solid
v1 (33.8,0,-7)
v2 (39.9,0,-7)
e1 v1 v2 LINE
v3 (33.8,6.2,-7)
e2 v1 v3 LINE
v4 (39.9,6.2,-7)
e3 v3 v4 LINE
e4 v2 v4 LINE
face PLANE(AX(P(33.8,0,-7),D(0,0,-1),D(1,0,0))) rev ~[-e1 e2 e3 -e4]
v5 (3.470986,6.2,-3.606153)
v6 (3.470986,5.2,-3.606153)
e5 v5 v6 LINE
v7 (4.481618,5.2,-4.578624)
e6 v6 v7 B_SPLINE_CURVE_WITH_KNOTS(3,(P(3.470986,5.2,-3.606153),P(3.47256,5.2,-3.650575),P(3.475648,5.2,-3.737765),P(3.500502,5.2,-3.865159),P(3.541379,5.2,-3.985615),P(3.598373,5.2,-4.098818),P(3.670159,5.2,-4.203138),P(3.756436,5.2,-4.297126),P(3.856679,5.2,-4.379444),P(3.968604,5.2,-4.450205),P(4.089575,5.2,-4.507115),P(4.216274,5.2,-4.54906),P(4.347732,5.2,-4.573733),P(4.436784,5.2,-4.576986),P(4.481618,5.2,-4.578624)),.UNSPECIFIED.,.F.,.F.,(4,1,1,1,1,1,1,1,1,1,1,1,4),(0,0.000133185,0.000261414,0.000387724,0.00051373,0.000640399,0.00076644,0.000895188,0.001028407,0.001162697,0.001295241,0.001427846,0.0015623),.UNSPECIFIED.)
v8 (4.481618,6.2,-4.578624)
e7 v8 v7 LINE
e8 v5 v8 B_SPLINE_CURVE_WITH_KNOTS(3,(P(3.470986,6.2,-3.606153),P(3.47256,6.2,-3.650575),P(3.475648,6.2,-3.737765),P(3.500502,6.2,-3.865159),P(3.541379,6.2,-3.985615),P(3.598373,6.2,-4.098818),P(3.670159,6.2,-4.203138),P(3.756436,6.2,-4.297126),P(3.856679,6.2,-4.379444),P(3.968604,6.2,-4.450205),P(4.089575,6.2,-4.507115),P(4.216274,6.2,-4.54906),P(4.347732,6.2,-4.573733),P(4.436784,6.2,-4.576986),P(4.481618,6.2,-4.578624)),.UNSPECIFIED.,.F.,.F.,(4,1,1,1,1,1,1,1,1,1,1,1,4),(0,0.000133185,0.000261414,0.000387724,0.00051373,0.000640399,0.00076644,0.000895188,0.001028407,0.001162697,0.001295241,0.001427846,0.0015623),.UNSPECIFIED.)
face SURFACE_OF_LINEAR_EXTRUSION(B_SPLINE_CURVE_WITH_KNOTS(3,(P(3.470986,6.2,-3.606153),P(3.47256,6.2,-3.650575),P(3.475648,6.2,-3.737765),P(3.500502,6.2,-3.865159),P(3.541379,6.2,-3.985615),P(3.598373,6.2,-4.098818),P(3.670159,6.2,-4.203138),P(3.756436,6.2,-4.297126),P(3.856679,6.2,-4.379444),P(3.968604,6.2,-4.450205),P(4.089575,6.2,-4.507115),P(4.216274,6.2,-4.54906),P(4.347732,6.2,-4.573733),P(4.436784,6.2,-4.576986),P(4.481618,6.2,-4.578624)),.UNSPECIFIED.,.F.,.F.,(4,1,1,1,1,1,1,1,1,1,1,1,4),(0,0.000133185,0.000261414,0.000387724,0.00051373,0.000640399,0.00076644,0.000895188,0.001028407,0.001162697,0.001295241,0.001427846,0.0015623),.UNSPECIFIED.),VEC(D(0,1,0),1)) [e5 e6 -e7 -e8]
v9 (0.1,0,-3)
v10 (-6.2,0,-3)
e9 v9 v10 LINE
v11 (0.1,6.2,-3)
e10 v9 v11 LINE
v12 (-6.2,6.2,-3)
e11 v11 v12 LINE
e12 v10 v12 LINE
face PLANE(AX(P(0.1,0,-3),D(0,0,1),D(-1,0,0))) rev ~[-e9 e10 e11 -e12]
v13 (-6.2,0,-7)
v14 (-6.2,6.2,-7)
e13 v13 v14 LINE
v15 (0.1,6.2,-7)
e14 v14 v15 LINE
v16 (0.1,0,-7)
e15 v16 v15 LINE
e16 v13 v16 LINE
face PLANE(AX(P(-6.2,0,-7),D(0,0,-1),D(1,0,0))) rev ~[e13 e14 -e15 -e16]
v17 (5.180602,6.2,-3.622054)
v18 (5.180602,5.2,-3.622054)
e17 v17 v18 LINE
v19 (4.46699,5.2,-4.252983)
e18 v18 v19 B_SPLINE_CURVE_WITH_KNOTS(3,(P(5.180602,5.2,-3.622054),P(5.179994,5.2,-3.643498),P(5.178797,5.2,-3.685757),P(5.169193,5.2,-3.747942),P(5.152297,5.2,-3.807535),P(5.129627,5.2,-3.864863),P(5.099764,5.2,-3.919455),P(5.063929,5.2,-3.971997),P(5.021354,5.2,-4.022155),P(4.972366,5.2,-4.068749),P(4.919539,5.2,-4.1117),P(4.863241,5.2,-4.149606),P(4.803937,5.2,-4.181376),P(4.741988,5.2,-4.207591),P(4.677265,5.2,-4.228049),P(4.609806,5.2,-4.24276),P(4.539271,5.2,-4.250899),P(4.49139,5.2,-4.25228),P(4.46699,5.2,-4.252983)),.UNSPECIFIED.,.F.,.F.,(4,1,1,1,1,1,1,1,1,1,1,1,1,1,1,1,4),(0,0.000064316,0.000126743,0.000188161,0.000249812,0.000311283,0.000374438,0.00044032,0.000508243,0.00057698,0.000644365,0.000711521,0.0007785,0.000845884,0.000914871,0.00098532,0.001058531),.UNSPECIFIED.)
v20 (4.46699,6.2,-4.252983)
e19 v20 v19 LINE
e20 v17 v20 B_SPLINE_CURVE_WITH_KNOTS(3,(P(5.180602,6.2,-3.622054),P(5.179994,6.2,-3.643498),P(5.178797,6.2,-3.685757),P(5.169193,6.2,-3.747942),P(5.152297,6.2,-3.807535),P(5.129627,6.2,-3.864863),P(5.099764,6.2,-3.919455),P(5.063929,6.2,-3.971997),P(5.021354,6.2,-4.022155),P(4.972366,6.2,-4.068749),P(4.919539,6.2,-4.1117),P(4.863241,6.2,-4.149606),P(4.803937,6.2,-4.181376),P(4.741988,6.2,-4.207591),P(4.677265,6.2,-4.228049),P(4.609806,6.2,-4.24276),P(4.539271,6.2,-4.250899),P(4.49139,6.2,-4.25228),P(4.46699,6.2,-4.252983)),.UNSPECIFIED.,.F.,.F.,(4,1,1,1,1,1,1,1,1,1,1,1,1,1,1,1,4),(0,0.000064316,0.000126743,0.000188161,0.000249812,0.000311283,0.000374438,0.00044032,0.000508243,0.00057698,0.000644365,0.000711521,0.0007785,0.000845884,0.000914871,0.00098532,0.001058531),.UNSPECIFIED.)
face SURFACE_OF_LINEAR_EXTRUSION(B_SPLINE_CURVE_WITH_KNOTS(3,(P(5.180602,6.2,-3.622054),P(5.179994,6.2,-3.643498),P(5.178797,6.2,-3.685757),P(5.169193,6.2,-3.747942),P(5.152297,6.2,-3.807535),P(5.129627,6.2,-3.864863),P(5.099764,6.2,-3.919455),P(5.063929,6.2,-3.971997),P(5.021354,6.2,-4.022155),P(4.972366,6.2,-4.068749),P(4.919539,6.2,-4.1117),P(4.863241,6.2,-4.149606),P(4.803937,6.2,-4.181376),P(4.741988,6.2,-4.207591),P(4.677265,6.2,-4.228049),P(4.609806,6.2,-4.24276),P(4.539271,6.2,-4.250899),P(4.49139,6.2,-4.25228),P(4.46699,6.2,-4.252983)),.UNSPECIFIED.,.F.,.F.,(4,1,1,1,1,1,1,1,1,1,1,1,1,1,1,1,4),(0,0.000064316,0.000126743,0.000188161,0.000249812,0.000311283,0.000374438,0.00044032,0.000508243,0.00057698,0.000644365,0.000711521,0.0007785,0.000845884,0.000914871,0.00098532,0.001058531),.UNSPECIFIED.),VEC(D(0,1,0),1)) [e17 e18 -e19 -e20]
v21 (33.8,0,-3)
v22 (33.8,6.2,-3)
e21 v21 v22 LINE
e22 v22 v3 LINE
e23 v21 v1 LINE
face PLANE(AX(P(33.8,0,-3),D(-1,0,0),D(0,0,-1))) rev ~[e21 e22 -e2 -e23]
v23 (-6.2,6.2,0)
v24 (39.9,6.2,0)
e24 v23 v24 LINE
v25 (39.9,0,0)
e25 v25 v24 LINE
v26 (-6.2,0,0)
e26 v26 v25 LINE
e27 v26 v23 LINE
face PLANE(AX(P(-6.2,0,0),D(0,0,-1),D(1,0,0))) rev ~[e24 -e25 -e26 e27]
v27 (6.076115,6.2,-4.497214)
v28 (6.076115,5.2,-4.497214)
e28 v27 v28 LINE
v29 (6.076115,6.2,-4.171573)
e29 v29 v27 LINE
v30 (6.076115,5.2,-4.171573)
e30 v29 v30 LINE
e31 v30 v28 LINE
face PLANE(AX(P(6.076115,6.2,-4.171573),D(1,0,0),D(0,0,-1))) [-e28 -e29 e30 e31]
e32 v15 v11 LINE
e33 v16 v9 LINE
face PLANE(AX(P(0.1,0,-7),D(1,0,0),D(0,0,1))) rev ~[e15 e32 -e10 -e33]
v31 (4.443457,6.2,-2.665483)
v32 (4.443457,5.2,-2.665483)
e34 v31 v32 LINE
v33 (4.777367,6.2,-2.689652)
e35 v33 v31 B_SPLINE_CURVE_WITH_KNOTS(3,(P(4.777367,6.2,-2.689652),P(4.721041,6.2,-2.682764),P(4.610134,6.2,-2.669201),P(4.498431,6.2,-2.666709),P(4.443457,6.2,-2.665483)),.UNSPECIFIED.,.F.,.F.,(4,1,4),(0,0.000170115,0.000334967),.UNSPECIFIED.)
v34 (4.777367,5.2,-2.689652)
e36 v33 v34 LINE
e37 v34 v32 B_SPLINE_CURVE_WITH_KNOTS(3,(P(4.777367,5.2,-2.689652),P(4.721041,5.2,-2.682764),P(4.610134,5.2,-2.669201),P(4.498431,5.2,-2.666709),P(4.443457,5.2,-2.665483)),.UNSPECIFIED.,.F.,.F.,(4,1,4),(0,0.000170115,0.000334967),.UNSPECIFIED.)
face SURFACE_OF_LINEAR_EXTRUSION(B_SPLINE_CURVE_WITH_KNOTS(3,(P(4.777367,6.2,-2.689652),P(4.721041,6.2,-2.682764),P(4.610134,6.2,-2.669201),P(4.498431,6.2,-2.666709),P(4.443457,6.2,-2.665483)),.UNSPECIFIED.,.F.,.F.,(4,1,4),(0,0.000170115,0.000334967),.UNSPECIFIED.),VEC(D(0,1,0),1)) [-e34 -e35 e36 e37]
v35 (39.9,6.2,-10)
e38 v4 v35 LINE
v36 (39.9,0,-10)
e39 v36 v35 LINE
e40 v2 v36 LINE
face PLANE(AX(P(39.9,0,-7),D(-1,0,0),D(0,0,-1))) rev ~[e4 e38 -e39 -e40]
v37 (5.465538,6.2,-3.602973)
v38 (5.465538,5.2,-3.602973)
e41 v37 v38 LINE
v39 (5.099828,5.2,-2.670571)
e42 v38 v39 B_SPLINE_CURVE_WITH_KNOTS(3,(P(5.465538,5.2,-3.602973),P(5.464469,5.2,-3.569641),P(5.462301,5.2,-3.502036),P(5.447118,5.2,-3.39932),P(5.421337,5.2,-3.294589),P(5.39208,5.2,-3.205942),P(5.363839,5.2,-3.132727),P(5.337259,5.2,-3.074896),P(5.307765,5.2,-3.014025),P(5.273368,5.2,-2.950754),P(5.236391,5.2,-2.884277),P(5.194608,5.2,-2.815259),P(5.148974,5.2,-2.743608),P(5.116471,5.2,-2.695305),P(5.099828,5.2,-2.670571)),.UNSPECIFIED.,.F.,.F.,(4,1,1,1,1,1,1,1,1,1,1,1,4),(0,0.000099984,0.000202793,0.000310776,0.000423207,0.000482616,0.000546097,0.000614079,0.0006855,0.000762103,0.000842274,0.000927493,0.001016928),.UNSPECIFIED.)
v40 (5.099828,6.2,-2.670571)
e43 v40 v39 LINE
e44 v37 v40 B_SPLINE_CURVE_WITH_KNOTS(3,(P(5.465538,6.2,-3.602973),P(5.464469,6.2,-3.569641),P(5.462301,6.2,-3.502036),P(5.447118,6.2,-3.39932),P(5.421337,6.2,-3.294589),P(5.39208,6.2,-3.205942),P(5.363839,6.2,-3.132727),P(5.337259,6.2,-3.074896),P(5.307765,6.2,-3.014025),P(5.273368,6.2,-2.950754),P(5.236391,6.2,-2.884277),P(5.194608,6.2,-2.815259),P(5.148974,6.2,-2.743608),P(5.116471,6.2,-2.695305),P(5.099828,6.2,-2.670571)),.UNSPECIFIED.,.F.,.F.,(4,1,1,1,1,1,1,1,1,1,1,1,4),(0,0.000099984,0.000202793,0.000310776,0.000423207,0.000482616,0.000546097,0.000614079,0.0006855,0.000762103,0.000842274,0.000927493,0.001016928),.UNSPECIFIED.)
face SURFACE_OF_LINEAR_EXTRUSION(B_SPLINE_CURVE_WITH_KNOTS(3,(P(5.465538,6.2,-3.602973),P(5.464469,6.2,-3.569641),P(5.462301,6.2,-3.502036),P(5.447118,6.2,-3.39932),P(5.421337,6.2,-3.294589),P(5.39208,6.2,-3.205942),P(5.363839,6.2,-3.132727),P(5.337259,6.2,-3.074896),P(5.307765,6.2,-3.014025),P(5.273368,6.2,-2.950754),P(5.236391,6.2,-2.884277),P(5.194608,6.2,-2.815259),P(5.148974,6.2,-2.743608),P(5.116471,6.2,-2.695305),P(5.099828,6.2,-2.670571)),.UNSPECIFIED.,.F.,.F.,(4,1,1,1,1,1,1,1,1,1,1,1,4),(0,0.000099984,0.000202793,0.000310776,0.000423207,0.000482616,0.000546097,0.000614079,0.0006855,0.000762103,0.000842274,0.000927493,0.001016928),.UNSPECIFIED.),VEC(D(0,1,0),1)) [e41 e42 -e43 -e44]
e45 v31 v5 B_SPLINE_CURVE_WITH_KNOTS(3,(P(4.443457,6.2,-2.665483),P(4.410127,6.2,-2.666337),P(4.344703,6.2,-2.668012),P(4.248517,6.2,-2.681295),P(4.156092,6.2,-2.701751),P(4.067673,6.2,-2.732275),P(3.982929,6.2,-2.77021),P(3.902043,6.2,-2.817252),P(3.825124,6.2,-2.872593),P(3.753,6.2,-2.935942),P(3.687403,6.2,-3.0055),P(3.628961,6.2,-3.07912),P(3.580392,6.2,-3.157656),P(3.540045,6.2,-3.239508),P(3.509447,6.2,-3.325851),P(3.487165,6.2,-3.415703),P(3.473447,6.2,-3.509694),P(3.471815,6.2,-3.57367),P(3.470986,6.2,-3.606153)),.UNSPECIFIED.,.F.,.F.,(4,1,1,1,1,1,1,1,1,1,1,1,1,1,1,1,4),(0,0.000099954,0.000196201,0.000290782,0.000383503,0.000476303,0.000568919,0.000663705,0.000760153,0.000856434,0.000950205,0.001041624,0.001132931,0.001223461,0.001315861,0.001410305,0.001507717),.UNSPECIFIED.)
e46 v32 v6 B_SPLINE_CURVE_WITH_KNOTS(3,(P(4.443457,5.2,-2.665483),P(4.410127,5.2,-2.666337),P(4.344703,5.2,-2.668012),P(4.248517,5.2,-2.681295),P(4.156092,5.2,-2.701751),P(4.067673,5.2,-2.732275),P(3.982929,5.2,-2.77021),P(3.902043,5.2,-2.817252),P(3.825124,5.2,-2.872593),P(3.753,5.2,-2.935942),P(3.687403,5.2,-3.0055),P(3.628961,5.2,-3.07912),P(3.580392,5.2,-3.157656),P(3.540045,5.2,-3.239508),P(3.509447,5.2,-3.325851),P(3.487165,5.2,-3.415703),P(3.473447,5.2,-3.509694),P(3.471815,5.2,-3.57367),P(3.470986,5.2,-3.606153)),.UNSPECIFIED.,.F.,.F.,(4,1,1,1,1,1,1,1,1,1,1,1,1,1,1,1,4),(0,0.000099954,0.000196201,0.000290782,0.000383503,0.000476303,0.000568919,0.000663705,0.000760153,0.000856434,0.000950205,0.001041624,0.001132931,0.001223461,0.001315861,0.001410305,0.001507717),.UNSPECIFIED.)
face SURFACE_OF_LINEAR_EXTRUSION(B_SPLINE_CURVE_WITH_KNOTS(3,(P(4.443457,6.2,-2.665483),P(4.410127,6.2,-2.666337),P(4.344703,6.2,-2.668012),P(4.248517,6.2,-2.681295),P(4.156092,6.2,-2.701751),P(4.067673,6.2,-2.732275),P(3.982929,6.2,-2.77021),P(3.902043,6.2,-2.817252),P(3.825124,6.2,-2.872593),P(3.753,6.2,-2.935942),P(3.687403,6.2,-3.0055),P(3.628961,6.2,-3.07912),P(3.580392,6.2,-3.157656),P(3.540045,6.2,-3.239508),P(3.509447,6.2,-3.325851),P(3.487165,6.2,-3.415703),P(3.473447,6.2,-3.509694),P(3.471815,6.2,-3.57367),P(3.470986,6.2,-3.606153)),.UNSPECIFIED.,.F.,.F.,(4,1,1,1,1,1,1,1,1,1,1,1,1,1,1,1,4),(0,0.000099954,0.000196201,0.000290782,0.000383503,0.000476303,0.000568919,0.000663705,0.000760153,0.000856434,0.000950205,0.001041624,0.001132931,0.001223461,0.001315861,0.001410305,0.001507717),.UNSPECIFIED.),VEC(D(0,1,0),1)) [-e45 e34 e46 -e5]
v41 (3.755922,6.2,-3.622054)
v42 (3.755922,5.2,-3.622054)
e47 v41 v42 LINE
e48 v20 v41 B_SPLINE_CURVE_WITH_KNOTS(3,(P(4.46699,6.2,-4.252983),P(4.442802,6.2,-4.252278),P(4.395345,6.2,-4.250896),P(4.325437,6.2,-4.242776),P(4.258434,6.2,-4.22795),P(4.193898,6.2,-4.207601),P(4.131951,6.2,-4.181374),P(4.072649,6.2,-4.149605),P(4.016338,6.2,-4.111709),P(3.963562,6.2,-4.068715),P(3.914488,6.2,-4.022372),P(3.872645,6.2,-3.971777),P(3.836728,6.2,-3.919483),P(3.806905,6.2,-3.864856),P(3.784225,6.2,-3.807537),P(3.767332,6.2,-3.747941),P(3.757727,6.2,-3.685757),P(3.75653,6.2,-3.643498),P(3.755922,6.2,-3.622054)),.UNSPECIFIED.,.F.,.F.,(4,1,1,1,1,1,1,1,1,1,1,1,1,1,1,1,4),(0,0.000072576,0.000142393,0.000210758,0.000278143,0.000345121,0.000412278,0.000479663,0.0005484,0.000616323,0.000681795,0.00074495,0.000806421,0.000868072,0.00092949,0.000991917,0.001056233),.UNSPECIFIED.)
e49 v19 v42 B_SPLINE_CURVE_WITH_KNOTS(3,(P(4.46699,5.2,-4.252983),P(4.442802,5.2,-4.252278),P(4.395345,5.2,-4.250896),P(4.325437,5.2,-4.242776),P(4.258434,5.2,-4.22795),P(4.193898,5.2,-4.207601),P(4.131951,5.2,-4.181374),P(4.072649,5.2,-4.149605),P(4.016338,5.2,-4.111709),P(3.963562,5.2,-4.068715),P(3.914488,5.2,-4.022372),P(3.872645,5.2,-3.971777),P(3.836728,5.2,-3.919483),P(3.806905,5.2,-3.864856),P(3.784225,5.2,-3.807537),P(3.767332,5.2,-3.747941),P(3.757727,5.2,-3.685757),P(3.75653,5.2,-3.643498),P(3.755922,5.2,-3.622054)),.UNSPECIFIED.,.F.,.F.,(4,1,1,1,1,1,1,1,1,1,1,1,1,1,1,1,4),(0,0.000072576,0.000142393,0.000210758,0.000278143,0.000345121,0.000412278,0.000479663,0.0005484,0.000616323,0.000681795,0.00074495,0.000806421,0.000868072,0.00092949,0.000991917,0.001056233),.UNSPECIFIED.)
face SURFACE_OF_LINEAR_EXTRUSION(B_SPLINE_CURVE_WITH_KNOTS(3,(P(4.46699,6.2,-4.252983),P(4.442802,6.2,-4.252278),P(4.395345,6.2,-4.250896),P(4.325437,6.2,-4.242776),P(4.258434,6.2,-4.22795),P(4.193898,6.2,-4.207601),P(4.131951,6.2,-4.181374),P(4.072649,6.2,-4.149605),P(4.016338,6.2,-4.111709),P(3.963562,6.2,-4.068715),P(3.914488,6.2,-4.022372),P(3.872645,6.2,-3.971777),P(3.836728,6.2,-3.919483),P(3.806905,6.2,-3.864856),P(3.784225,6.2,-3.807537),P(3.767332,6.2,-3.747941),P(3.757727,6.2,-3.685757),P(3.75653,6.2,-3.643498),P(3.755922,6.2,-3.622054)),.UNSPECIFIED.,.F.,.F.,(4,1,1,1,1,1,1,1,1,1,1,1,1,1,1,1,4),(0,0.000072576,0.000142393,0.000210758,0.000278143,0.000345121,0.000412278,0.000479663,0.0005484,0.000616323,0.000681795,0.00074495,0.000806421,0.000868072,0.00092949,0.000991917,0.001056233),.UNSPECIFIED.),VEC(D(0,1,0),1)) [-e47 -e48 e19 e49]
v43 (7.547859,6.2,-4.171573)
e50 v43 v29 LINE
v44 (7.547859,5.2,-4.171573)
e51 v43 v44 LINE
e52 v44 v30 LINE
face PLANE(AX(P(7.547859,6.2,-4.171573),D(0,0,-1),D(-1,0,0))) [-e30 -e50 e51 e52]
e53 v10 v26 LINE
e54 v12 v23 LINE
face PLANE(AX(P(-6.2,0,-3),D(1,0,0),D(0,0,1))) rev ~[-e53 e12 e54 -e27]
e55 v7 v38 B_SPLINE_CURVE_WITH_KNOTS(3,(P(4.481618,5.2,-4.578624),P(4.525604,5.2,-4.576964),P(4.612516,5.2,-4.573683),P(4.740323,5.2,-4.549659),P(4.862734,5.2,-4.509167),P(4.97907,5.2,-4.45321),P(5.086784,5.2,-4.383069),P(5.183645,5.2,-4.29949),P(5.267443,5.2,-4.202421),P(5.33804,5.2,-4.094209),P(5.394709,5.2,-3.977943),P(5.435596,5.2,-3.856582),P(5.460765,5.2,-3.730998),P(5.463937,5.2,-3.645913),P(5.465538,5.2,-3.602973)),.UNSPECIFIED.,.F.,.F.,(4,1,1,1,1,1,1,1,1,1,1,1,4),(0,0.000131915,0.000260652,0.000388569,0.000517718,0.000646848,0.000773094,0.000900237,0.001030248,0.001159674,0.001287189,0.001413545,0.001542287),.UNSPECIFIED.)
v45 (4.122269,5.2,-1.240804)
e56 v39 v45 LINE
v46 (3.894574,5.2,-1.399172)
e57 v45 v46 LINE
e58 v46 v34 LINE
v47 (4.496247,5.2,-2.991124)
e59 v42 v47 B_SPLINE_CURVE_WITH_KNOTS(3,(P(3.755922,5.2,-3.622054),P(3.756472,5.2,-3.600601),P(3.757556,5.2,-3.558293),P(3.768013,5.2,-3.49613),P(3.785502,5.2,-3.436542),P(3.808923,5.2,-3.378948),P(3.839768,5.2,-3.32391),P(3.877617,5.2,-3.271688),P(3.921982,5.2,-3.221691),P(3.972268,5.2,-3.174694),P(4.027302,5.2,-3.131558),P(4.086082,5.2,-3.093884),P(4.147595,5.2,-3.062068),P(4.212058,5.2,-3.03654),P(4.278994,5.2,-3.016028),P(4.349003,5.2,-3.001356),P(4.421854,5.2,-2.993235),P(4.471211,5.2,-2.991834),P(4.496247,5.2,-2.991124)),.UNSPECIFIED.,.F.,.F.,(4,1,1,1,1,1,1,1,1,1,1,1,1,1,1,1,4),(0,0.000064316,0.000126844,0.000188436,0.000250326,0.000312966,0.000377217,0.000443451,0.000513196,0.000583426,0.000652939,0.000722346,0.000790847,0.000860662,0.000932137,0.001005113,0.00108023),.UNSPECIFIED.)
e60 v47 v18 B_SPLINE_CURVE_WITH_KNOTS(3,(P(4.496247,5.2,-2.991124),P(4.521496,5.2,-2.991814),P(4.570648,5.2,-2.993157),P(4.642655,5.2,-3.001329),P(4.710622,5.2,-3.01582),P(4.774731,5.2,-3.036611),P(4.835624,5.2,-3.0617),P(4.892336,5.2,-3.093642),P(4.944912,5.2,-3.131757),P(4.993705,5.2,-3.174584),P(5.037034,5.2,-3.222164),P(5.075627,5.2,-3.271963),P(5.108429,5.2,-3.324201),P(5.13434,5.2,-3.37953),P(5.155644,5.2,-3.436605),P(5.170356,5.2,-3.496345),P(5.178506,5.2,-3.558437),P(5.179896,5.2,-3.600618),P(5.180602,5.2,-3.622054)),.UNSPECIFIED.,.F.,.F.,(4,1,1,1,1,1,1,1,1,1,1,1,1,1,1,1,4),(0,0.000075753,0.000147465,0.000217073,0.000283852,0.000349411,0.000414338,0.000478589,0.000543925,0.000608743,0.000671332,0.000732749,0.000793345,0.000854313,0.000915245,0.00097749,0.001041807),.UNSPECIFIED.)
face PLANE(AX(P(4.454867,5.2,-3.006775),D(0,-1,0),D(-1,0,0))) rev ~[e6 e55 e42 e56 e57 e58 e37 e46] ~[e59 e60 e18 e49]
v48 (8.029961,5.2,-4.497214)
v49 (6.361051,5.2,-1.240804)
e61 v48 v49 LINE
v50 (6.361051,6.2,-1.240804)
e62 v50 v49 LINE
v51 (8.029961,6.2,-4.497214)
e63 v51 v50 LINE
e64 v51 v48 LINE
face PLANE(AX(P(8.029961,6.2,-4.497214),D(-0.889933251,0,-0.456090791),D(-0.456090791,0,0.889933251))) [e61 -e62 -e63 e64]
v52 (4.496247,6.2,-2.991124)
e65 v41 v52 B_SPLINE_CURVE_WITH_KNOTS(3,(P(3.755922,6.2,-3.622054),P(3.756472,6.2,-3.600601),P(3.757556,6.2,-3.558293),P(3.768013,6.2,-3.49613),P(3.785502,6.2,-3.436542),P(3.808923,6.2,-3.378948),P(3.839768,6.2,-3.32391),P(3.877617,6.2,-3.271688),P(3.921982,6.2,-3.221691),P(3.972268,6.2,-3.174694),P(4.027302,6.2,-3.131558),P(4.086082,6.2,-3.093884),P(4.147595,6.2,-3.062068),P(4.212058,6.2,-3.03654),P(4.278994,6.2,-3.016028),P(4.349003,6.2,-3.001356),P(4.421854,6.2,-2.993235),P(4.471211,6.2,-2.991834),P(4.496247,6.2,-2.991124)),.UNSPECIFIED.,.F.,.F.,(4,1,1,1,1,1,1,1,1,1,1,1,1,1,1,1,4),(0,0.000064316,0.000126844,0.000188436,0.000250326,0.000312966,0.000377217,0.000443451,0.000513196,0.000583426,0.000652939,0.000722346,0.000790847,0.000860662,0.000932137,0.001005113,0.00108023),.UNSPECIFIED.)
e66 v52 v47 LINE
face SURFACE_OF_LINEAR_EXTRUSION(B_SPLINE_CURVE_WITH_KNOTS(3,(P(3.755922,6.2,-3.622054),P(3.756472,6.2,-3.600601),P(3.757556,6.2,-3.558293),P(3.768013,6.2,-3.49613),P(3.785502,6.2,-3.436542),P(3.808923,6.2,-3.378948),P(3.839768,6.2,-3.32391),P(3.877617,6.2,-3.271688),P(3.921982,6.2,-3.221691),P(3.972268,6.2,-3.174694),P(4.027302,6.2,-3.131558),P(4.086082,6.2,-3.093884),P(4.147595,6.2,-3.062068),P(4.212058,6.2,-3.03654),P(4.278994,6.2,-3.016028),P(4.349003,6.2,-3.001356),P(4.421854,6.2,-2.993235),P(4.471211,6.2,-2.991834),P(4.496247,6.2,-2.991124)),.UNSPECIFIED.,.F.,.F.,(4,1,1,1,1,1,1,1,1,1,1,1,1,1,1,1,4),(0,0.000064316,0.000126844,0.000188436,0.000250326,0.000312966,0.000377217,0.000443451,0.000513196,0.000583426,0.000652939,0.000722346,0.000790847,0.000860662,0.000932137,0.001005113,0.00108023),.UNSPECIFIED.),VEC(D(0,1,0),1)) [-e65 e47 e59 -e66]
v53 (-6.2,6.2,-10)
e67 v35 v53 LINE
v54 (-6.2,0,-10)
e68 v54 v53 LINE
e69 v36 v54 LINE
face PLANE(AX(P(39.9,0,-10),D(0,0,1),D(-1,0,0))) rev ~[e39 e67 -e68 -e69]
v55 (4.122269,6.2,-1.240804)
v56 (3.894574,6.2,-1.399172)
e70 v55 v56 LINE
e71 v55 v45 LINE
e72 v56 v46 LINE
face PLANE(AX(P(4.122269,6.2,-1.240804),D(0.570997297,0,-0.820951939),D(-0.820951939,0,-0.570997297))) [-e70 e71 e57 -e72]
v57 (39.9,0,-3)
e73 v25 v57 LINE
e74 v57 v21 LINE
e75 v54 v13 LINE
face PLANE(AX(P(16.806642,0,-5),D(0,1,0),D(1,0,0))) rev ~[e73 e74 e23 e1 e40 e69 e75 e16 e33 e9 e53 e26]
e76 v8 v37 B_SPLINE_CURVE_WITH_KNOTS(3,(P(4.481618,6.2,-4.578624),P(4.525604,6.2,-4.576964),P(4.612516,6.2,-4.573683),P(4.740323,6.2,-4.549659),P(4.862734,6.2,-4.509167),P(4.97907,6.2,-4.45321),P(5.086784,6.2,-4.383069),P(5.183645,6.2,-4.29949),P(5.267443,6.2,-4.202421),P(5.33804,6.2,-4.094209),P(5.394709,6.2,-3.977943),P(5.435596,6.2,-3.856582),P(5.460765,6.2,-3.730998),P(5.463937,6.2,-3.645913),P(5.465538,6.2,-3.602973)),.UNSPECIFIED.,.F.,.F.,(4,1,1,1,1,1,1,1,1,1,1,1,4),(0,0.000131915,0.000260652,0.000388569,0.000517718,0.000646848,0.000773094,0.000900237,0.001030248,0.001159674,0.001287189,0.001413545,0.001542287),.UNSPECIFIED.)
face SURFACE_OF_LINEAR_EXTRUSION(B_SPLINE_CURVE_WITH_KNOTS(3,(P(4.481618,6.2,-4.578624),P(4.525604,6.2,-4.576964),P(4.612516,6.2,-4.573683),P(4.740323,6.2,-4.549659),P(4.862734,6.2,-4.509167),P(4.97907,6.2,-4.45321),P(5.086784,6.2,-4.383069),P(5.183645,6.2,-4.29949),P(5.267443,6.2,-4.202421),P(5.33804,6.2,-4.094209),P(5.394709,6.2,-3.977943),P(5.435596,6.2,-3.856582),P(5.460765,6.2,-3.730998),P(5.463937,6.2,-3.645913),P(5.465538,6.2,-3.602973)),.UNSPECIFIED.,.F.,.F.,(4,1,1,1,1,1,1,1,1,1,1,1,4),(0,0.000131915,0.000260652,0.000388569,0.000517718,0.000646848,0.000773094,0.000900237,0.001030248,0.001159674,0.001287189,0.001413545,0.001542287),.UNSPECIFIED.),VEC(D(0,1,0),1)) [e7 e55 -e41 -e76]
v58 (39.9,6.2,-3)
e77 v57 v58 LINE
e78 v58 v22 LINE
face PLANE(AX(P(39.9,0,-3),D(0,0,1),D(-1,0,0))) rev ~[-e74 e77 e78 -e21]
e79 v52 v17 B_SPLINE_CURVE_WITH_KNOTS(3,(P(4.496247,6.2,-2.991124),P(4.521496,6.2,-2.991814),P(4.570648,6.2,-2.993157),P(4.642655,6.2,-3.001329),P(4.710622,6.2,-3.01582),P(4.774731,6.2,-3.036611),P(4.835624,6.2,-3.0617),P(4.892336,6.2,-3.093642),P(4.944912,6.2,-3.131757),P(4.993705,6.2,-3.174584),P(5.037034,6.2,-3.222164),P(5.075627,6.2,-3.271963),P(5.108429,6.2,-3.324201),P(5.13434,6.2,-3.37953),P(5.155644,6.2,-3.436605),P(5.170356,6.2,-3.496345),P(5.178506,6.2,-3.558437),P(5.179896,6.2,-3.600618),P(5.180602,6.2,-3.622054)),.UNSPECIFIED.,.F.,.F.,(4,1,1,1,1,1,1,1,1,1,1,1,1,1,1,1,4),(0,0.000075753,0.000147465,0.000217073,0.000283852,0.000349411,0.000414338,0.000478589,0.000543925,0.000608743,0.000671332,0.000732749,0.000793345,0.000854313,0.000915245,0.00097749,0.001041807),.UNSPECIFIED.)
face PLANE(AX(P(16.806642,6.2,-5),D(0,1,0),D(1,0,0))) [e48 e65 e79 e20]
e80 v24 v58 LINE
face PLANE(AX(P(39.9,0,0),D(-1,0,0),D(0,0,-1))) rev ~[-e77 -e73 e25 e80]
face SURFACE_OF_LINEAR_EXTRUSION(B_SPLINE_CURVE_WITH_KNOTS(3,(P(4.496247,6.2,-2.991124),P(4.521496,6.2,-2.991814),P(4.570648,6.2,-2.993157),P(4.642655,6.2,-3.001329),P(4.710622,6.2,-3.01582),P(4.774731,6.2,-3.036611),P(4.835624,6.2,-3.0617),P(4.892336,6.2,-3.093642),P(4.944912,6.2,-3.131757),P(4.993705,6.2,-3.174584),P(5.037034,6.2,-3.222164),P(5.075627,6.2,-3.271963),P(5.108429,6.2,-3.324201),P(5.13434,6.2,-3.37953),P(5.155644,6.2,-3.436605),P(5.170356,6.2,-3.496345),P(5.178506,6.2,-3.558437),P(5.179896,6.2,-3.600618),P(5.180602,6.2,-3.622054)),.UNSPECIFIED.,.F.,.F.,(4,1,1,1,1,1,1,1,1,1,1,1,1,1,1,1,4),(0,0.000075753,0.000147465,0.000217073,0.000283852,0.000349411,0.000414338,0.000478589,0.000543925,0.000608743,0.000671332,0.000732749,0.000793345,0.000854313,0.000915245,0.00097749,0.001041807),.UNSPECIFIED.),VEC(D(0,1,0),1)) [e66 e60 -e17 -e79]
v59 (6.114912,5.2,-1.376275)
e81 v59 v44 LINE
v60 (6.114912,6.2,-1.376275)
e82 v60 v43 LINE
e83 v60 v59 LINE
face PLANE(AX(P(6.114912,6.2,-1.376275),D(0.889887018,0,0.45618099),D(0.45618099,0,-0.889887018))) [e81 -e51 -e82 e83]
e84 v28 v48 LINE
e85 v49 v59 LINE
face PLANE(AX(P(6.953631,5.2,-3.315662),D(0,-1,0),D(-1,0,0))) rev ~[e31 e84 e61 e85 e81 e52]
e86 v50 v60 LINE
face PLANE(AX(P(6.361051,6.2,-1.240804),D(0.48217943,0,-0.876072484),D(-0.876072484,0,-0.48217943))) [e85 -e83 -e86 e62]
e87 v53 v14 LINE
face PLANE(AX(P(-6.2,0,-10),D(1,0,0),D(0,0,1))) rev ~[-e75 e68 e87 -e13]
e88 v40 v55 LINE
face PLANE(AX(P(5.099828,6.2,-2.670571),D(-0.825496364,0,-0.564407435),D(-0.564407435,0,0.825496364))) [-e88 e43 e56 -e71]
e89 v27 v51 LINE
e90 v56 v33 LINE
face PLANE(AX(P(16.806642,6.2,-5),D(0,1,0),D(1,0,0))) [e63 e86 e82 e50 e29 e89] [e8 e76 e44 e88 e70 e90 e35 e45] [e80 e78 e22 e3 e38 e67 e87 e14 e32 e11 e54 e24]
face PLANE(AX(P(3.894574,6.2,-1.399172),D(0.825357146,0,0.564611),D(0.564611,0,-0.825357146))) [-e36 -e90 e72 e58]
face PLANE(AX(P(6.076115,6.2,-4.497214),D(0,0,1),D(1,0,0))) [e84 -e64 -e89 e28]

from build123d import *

# Parameters (mm, degrees)
BOSS_EXTRUDE1_DEPTH = 6.2
CUT_EXTRUDE1_DEPTH  = 1


with BuildPart() as part:
    # Sketch1 → Boss-Extrude1 (new body)
    with BuildSketch(Plane(origin=(0, 0, 0), x_dir=(1, 0, 0), z_dir=(0, 1, 0))):
        Polygon((0, 0), (33.7, 0), (39.9, 0), (39.9, 3), (33.8, 3), (33.8, 7), (39.9, 7), (39.9, 10), (33.7, 10), (0, 10), (-6.2, 10), (-6.2, 7), (0.1, 7), (0.1, 3), (-6.2, 3), (-6.2, 0), align=None)
    extrude(amount=BOSS_EXTRUDE1_DEPTH)

    # Sketch2 → Cut-Extrude1 (cut)
    with BuildSketch(Plane(origin=(0, 6.2, 0), x_dir=(1, 0, 0), z_dir=(0, 1, 0))):
        with BuildLine():
            Line((4.122268508, 1.240803577), (3.894574197, 1.399171966))
            Line((3.894574197, 1.399171966), (4.777366665, 2.689651734))
            add(Edge.make_bspline(
                [(4.777366665, 2.689651734), (4.721041498, 2.682763741), (4.610134103, 2.669200898), (4.498431161, 2.66670929), (4.443457411, 2.665483064)],
                knots=[0, 0, 0, 0, 0.000170115, 0.000334967, 0.000334967, 0.000334967, 0.000334967], degree=3))
            add(Edge.make_bspline(
                [(4.443457411, 2.665483064), (4.410127124, 2.666336755), (4.344702687, 2.668012475), (4.248516831, 2.681294687), (4.156092072, 2.701750875), (4.067673442, 2.732275102), (3.982928606, 2.770210192), (3.902042566, 2.817251911), (3.825124208, 2.872593333), (3.752999629, 2.935941833), (3.687402552, 3.00549978), (3.628961417, 3.079119542), (3.580391962, 3.157656315), (3.540045345, 3.239508014), (3.509447005, 3.325851097), (3.487165275, 3.415703053), (3.473447139, 3.509693614), (3.471815102, 3.573669982), (3.470986457, 3.606153136)],
                knots=[0, 0, 0, 0, 9.9954e-05, 0.000196201, 0.000290782, 0.000383503, 0.000476303, 0.000568919, 0.000663705, 0.000760153, 0.000856434, 0.000950205, 0.001041624, 0.001132931, 0.001223461, 0.001315861, 0.001410305, 0.001507717, 0.001507717, 0.001507717, 0.001507717], degree=3))
            add(Edge.make_bspline(
                [(3.470986457, 3.606153136), (3.472559837, 3.6505747), (3.475648063, 3.737765218), (3.500502432, 3.865158708), (3.541378597, 3.985615073), (3.598372911, 4.098817606), (3.670159408, 4.203137891), (3.756436486, 4.2971257), (3.856679368, 4.379444246), (3.968604485, 4.450205088), (4.089574726, 4.507114693), (4.216274151, 4.549060344), (4.34773196, 4.573733494), (4.436784061, 4.576986382), (4.481618468, 4.57862409)],
                knots=[0, 0, 0, 0, 0.000133185, 0.000261414, 0.000387724, 0.00051373, 0.000640399, 0.00076644, 0.000895188, 0.001028407, 0.001162697, 0.001295241, 0.001427846, 0.0015623, 0.0015623, 0.0015623, 0.0015623], degree=3))
            add(Edge.make_bspline(
                [(4.481618468, 4.57862409), (4.525604392, 4.57696387), (4.612516431, 4.573683434), (4.740322887, 4.54965869), (4.862733666, 4.509166851), (4.97907019, 4.45321014), (5.0867838, 4.383069031), (5.183644714, 4.299489856), (5.267442525, 4.202420556), (5.338039902, 4.094208854), (5.394709153, 3.977943093), (5.435596152, 3.856581963), (5.460765411, 3.730998266), (5.463937079, 3.645913279), (5.465537739, 3.602973048)],
                knots=[0, 0, 0, 0, 0.000131915, 0.000260652, 0.000388569, 0.000517718, 0.000646848, 0.000773094, 0.000900237, 0.001030248, 0.001159674, 0.001287189, 0.001413545, 0.001542287, 0.001542287, 0.001542287, 0.001542287], degree=3))
            add(Edge.make_bspline(
                [(5.465537739, 3.602973048), (5.464468754, 3.569641202), (5.462300585, 3.50203589), (5.447118363, 3.399319794), (5.421337195, 3.294589035), (5.392080297, 3.205941588), (5.363838974, 3.132727494), (5.337258661, 3.074895704), (5.307765493, 3.014025272), (5.273367756, 2.950754473), (5.23639053, 2.884276745), (5.194608186, 2.815258852), (5.148973846, 2.74360818), (5.116471172, 2.695305464), (5.099827603, 2.670571205)],
                knots=[0, 0, 0, 0, 9.9984e-05, 0.000202793, 0.000310776, 0.000423207, 0.000482616, 0.000546097, 0.000614079, 0.0006855, 0.000762103, 0.000842274, 0.000927493, 0.001016928, 0.001016928, 0.001016928, 0.001016928], degree=3))
            Line((5.099827603, 2.670571205), (4.122268508, 1.240803577))
        make_face()
        with BuildLine():
            add(Edge.make_bspline(
                [(4.496246874, 2.99112409), (4.521496301, 2.991813867), (4.570648352, 2.993156627), (4.642654901, 3.001329297), (4.710621857, 3.015819984), (4.774730776, 3.036611437), (4.835624466, 3.061699987), (4.892335707, 3.093642288), (4.944911961, 3.131757379), (4.993705294, 3.174583607), (5.037034066, 3.222163779), (5.075626672, 3.271963298), (5.108429472, 3.324200765), (5.134340445, 3.379530367), (5.15564431, 3.436605264), (5.170356364, 3.496344572), (5.178506438, 3.558437049), (5.179895795, 3.600617975), (5.180601842, 3.622053577)],
                knots=[0, 0, 0, 0, 7.5753e-05, 0.000147465, 0.000217073, 0.000283852, 0.000349411, 0.000414338, 0.000478589, 0.000543925, 0.000608743, 0.000671332, 0.000732749, 0.000793345, 0.000854313, 0.000915245, 0.00097749, 0.001041807, 0.001041807, 0.001041807, 0.001041807], degree=3))
            add(Edge.make_bspline(
                [(5.180601842, 3.622053577), (5.179994356, 3.64349813), (5.178797231, 3.685757253), (5.169193038, 3.74794166), (5.1522973, 3.807534833), (5.12962736, 3.864863023), (5.099764001, 3.919455217), (5.063928697, 3.971996815), (5.02135426, 4.022154674), (4.972366218, 4.068749145), (4.919539159, 4.111700453), (4.86324142, 4.149606394), (4.803937031, 4.181375622), (4.741987801, 4.207591116), (4.677264656, 4.228048798), (4.609805896, 4.242760265), (4.539270635, 4.250898928), (4.491390468, 4.252279503), (4.466990063, 4.252983064)],
                knots=[0, 0, 0, 0, 6.4316e-05, 0.000126743, 0.000188161, 0.000249812, 0.000311283, 0.000374438, 0.00044032, 0.000508243, 0.00057698, 0.000644365, 0.000711521, 0.0007785, 0.000845884, 0.000914871, 0.00098532, 0.001058531, 0.001058531, 0.001058531, 0.001058531], degree=3))
            add(Edge.make_bspline(
                [(4.466990063, 4.252983064), (4.442801867, 4.252278367), (4.395344825, 4.250895757), (4.325436623, 4.242775735), (4.258433992, 4.22794986), (4.193898379, 4.207600592), (4.13195099, 4.181373666), (4.072649399, 4.149604729), (4.016338491, 4.111709179), (3.96356208, 4.06871535), (3.914487536, 4.022371556), (3.872645092, 3.971777089), (3.836727776, 3.919482549), (3.806905452, 3.864855759), (3.784224597, 3.807536771), (3.767331781, 3.747941135), (3.757726803, 3.68575739), (3.756529786, 3.643498177), (3.755922355, 3.622053577)],
                knots=[0, 0, 0, 0, 7.2576e-05, 0.000142393, 0.000210758, 0.000278143, 0.000345121, 0.000412278, 0.000479663, 0.0005484, 0.000616323, 0.000681795, 0.00074495, 0.000806421, 0.000868072, 0.00092949, 0.000991917, 0.001056233, 0.001056233, 0.001056233, 0.001056233], degree=3))
            add(Edge.make_bspline(
                [(3.755922355, 3.622053577), (3.756472016, 3.600601282), (3.757556049, 3.558293431), (3.768013401, 3.496130203), (3.785501555, 3.436541627), (3.808923431, 3.3789483), (3.839767731, 3.323910258), (3.877617221, 3.271688436), (3.921981538, 3.221690849), (3.97226763, 3.174694307), (4.027302319, 3.131557691), (4.086082225, 3.093883702), (4.147595434, 3.062067984), (4.212058485, 3.036539729), (4.278993653, 3.01602772), (4.349002522, 3.001356004), (4.421853566, 2.993235019), (4.471211193, 2.991834484), (4.496246874, 2.99112409)],
                knots=[0, 0, 0, 0, 6.4316e-05, 0.000126844, 0.000188436, 0.000250326, 0.000312966, 0.000377217, 0.000443451, 0.000513196, 0.000583426, 0.000652939, 0.000722346, 0.000790847, 0.000860662, 0.000932137, 0.001005113, 0.00108023, 0.00108023, 0.00108023, 0.00108023], degree=3))
        make_face(mode=Mode.SUBTRACT)
        Polygon((6.076114662, 4.497213833), (8.029960816, 4.497213833), (6.36105056, 1.240803577), (6.114911738, 1.376275332), (7.547859454, 4.171572808), (6.076114662, 4.171572808), align=None)
    extrude(amount=-CUT_EXTRUDE1_DEPTH, mode=Mode.SUBTRACT)


solid = part.part
